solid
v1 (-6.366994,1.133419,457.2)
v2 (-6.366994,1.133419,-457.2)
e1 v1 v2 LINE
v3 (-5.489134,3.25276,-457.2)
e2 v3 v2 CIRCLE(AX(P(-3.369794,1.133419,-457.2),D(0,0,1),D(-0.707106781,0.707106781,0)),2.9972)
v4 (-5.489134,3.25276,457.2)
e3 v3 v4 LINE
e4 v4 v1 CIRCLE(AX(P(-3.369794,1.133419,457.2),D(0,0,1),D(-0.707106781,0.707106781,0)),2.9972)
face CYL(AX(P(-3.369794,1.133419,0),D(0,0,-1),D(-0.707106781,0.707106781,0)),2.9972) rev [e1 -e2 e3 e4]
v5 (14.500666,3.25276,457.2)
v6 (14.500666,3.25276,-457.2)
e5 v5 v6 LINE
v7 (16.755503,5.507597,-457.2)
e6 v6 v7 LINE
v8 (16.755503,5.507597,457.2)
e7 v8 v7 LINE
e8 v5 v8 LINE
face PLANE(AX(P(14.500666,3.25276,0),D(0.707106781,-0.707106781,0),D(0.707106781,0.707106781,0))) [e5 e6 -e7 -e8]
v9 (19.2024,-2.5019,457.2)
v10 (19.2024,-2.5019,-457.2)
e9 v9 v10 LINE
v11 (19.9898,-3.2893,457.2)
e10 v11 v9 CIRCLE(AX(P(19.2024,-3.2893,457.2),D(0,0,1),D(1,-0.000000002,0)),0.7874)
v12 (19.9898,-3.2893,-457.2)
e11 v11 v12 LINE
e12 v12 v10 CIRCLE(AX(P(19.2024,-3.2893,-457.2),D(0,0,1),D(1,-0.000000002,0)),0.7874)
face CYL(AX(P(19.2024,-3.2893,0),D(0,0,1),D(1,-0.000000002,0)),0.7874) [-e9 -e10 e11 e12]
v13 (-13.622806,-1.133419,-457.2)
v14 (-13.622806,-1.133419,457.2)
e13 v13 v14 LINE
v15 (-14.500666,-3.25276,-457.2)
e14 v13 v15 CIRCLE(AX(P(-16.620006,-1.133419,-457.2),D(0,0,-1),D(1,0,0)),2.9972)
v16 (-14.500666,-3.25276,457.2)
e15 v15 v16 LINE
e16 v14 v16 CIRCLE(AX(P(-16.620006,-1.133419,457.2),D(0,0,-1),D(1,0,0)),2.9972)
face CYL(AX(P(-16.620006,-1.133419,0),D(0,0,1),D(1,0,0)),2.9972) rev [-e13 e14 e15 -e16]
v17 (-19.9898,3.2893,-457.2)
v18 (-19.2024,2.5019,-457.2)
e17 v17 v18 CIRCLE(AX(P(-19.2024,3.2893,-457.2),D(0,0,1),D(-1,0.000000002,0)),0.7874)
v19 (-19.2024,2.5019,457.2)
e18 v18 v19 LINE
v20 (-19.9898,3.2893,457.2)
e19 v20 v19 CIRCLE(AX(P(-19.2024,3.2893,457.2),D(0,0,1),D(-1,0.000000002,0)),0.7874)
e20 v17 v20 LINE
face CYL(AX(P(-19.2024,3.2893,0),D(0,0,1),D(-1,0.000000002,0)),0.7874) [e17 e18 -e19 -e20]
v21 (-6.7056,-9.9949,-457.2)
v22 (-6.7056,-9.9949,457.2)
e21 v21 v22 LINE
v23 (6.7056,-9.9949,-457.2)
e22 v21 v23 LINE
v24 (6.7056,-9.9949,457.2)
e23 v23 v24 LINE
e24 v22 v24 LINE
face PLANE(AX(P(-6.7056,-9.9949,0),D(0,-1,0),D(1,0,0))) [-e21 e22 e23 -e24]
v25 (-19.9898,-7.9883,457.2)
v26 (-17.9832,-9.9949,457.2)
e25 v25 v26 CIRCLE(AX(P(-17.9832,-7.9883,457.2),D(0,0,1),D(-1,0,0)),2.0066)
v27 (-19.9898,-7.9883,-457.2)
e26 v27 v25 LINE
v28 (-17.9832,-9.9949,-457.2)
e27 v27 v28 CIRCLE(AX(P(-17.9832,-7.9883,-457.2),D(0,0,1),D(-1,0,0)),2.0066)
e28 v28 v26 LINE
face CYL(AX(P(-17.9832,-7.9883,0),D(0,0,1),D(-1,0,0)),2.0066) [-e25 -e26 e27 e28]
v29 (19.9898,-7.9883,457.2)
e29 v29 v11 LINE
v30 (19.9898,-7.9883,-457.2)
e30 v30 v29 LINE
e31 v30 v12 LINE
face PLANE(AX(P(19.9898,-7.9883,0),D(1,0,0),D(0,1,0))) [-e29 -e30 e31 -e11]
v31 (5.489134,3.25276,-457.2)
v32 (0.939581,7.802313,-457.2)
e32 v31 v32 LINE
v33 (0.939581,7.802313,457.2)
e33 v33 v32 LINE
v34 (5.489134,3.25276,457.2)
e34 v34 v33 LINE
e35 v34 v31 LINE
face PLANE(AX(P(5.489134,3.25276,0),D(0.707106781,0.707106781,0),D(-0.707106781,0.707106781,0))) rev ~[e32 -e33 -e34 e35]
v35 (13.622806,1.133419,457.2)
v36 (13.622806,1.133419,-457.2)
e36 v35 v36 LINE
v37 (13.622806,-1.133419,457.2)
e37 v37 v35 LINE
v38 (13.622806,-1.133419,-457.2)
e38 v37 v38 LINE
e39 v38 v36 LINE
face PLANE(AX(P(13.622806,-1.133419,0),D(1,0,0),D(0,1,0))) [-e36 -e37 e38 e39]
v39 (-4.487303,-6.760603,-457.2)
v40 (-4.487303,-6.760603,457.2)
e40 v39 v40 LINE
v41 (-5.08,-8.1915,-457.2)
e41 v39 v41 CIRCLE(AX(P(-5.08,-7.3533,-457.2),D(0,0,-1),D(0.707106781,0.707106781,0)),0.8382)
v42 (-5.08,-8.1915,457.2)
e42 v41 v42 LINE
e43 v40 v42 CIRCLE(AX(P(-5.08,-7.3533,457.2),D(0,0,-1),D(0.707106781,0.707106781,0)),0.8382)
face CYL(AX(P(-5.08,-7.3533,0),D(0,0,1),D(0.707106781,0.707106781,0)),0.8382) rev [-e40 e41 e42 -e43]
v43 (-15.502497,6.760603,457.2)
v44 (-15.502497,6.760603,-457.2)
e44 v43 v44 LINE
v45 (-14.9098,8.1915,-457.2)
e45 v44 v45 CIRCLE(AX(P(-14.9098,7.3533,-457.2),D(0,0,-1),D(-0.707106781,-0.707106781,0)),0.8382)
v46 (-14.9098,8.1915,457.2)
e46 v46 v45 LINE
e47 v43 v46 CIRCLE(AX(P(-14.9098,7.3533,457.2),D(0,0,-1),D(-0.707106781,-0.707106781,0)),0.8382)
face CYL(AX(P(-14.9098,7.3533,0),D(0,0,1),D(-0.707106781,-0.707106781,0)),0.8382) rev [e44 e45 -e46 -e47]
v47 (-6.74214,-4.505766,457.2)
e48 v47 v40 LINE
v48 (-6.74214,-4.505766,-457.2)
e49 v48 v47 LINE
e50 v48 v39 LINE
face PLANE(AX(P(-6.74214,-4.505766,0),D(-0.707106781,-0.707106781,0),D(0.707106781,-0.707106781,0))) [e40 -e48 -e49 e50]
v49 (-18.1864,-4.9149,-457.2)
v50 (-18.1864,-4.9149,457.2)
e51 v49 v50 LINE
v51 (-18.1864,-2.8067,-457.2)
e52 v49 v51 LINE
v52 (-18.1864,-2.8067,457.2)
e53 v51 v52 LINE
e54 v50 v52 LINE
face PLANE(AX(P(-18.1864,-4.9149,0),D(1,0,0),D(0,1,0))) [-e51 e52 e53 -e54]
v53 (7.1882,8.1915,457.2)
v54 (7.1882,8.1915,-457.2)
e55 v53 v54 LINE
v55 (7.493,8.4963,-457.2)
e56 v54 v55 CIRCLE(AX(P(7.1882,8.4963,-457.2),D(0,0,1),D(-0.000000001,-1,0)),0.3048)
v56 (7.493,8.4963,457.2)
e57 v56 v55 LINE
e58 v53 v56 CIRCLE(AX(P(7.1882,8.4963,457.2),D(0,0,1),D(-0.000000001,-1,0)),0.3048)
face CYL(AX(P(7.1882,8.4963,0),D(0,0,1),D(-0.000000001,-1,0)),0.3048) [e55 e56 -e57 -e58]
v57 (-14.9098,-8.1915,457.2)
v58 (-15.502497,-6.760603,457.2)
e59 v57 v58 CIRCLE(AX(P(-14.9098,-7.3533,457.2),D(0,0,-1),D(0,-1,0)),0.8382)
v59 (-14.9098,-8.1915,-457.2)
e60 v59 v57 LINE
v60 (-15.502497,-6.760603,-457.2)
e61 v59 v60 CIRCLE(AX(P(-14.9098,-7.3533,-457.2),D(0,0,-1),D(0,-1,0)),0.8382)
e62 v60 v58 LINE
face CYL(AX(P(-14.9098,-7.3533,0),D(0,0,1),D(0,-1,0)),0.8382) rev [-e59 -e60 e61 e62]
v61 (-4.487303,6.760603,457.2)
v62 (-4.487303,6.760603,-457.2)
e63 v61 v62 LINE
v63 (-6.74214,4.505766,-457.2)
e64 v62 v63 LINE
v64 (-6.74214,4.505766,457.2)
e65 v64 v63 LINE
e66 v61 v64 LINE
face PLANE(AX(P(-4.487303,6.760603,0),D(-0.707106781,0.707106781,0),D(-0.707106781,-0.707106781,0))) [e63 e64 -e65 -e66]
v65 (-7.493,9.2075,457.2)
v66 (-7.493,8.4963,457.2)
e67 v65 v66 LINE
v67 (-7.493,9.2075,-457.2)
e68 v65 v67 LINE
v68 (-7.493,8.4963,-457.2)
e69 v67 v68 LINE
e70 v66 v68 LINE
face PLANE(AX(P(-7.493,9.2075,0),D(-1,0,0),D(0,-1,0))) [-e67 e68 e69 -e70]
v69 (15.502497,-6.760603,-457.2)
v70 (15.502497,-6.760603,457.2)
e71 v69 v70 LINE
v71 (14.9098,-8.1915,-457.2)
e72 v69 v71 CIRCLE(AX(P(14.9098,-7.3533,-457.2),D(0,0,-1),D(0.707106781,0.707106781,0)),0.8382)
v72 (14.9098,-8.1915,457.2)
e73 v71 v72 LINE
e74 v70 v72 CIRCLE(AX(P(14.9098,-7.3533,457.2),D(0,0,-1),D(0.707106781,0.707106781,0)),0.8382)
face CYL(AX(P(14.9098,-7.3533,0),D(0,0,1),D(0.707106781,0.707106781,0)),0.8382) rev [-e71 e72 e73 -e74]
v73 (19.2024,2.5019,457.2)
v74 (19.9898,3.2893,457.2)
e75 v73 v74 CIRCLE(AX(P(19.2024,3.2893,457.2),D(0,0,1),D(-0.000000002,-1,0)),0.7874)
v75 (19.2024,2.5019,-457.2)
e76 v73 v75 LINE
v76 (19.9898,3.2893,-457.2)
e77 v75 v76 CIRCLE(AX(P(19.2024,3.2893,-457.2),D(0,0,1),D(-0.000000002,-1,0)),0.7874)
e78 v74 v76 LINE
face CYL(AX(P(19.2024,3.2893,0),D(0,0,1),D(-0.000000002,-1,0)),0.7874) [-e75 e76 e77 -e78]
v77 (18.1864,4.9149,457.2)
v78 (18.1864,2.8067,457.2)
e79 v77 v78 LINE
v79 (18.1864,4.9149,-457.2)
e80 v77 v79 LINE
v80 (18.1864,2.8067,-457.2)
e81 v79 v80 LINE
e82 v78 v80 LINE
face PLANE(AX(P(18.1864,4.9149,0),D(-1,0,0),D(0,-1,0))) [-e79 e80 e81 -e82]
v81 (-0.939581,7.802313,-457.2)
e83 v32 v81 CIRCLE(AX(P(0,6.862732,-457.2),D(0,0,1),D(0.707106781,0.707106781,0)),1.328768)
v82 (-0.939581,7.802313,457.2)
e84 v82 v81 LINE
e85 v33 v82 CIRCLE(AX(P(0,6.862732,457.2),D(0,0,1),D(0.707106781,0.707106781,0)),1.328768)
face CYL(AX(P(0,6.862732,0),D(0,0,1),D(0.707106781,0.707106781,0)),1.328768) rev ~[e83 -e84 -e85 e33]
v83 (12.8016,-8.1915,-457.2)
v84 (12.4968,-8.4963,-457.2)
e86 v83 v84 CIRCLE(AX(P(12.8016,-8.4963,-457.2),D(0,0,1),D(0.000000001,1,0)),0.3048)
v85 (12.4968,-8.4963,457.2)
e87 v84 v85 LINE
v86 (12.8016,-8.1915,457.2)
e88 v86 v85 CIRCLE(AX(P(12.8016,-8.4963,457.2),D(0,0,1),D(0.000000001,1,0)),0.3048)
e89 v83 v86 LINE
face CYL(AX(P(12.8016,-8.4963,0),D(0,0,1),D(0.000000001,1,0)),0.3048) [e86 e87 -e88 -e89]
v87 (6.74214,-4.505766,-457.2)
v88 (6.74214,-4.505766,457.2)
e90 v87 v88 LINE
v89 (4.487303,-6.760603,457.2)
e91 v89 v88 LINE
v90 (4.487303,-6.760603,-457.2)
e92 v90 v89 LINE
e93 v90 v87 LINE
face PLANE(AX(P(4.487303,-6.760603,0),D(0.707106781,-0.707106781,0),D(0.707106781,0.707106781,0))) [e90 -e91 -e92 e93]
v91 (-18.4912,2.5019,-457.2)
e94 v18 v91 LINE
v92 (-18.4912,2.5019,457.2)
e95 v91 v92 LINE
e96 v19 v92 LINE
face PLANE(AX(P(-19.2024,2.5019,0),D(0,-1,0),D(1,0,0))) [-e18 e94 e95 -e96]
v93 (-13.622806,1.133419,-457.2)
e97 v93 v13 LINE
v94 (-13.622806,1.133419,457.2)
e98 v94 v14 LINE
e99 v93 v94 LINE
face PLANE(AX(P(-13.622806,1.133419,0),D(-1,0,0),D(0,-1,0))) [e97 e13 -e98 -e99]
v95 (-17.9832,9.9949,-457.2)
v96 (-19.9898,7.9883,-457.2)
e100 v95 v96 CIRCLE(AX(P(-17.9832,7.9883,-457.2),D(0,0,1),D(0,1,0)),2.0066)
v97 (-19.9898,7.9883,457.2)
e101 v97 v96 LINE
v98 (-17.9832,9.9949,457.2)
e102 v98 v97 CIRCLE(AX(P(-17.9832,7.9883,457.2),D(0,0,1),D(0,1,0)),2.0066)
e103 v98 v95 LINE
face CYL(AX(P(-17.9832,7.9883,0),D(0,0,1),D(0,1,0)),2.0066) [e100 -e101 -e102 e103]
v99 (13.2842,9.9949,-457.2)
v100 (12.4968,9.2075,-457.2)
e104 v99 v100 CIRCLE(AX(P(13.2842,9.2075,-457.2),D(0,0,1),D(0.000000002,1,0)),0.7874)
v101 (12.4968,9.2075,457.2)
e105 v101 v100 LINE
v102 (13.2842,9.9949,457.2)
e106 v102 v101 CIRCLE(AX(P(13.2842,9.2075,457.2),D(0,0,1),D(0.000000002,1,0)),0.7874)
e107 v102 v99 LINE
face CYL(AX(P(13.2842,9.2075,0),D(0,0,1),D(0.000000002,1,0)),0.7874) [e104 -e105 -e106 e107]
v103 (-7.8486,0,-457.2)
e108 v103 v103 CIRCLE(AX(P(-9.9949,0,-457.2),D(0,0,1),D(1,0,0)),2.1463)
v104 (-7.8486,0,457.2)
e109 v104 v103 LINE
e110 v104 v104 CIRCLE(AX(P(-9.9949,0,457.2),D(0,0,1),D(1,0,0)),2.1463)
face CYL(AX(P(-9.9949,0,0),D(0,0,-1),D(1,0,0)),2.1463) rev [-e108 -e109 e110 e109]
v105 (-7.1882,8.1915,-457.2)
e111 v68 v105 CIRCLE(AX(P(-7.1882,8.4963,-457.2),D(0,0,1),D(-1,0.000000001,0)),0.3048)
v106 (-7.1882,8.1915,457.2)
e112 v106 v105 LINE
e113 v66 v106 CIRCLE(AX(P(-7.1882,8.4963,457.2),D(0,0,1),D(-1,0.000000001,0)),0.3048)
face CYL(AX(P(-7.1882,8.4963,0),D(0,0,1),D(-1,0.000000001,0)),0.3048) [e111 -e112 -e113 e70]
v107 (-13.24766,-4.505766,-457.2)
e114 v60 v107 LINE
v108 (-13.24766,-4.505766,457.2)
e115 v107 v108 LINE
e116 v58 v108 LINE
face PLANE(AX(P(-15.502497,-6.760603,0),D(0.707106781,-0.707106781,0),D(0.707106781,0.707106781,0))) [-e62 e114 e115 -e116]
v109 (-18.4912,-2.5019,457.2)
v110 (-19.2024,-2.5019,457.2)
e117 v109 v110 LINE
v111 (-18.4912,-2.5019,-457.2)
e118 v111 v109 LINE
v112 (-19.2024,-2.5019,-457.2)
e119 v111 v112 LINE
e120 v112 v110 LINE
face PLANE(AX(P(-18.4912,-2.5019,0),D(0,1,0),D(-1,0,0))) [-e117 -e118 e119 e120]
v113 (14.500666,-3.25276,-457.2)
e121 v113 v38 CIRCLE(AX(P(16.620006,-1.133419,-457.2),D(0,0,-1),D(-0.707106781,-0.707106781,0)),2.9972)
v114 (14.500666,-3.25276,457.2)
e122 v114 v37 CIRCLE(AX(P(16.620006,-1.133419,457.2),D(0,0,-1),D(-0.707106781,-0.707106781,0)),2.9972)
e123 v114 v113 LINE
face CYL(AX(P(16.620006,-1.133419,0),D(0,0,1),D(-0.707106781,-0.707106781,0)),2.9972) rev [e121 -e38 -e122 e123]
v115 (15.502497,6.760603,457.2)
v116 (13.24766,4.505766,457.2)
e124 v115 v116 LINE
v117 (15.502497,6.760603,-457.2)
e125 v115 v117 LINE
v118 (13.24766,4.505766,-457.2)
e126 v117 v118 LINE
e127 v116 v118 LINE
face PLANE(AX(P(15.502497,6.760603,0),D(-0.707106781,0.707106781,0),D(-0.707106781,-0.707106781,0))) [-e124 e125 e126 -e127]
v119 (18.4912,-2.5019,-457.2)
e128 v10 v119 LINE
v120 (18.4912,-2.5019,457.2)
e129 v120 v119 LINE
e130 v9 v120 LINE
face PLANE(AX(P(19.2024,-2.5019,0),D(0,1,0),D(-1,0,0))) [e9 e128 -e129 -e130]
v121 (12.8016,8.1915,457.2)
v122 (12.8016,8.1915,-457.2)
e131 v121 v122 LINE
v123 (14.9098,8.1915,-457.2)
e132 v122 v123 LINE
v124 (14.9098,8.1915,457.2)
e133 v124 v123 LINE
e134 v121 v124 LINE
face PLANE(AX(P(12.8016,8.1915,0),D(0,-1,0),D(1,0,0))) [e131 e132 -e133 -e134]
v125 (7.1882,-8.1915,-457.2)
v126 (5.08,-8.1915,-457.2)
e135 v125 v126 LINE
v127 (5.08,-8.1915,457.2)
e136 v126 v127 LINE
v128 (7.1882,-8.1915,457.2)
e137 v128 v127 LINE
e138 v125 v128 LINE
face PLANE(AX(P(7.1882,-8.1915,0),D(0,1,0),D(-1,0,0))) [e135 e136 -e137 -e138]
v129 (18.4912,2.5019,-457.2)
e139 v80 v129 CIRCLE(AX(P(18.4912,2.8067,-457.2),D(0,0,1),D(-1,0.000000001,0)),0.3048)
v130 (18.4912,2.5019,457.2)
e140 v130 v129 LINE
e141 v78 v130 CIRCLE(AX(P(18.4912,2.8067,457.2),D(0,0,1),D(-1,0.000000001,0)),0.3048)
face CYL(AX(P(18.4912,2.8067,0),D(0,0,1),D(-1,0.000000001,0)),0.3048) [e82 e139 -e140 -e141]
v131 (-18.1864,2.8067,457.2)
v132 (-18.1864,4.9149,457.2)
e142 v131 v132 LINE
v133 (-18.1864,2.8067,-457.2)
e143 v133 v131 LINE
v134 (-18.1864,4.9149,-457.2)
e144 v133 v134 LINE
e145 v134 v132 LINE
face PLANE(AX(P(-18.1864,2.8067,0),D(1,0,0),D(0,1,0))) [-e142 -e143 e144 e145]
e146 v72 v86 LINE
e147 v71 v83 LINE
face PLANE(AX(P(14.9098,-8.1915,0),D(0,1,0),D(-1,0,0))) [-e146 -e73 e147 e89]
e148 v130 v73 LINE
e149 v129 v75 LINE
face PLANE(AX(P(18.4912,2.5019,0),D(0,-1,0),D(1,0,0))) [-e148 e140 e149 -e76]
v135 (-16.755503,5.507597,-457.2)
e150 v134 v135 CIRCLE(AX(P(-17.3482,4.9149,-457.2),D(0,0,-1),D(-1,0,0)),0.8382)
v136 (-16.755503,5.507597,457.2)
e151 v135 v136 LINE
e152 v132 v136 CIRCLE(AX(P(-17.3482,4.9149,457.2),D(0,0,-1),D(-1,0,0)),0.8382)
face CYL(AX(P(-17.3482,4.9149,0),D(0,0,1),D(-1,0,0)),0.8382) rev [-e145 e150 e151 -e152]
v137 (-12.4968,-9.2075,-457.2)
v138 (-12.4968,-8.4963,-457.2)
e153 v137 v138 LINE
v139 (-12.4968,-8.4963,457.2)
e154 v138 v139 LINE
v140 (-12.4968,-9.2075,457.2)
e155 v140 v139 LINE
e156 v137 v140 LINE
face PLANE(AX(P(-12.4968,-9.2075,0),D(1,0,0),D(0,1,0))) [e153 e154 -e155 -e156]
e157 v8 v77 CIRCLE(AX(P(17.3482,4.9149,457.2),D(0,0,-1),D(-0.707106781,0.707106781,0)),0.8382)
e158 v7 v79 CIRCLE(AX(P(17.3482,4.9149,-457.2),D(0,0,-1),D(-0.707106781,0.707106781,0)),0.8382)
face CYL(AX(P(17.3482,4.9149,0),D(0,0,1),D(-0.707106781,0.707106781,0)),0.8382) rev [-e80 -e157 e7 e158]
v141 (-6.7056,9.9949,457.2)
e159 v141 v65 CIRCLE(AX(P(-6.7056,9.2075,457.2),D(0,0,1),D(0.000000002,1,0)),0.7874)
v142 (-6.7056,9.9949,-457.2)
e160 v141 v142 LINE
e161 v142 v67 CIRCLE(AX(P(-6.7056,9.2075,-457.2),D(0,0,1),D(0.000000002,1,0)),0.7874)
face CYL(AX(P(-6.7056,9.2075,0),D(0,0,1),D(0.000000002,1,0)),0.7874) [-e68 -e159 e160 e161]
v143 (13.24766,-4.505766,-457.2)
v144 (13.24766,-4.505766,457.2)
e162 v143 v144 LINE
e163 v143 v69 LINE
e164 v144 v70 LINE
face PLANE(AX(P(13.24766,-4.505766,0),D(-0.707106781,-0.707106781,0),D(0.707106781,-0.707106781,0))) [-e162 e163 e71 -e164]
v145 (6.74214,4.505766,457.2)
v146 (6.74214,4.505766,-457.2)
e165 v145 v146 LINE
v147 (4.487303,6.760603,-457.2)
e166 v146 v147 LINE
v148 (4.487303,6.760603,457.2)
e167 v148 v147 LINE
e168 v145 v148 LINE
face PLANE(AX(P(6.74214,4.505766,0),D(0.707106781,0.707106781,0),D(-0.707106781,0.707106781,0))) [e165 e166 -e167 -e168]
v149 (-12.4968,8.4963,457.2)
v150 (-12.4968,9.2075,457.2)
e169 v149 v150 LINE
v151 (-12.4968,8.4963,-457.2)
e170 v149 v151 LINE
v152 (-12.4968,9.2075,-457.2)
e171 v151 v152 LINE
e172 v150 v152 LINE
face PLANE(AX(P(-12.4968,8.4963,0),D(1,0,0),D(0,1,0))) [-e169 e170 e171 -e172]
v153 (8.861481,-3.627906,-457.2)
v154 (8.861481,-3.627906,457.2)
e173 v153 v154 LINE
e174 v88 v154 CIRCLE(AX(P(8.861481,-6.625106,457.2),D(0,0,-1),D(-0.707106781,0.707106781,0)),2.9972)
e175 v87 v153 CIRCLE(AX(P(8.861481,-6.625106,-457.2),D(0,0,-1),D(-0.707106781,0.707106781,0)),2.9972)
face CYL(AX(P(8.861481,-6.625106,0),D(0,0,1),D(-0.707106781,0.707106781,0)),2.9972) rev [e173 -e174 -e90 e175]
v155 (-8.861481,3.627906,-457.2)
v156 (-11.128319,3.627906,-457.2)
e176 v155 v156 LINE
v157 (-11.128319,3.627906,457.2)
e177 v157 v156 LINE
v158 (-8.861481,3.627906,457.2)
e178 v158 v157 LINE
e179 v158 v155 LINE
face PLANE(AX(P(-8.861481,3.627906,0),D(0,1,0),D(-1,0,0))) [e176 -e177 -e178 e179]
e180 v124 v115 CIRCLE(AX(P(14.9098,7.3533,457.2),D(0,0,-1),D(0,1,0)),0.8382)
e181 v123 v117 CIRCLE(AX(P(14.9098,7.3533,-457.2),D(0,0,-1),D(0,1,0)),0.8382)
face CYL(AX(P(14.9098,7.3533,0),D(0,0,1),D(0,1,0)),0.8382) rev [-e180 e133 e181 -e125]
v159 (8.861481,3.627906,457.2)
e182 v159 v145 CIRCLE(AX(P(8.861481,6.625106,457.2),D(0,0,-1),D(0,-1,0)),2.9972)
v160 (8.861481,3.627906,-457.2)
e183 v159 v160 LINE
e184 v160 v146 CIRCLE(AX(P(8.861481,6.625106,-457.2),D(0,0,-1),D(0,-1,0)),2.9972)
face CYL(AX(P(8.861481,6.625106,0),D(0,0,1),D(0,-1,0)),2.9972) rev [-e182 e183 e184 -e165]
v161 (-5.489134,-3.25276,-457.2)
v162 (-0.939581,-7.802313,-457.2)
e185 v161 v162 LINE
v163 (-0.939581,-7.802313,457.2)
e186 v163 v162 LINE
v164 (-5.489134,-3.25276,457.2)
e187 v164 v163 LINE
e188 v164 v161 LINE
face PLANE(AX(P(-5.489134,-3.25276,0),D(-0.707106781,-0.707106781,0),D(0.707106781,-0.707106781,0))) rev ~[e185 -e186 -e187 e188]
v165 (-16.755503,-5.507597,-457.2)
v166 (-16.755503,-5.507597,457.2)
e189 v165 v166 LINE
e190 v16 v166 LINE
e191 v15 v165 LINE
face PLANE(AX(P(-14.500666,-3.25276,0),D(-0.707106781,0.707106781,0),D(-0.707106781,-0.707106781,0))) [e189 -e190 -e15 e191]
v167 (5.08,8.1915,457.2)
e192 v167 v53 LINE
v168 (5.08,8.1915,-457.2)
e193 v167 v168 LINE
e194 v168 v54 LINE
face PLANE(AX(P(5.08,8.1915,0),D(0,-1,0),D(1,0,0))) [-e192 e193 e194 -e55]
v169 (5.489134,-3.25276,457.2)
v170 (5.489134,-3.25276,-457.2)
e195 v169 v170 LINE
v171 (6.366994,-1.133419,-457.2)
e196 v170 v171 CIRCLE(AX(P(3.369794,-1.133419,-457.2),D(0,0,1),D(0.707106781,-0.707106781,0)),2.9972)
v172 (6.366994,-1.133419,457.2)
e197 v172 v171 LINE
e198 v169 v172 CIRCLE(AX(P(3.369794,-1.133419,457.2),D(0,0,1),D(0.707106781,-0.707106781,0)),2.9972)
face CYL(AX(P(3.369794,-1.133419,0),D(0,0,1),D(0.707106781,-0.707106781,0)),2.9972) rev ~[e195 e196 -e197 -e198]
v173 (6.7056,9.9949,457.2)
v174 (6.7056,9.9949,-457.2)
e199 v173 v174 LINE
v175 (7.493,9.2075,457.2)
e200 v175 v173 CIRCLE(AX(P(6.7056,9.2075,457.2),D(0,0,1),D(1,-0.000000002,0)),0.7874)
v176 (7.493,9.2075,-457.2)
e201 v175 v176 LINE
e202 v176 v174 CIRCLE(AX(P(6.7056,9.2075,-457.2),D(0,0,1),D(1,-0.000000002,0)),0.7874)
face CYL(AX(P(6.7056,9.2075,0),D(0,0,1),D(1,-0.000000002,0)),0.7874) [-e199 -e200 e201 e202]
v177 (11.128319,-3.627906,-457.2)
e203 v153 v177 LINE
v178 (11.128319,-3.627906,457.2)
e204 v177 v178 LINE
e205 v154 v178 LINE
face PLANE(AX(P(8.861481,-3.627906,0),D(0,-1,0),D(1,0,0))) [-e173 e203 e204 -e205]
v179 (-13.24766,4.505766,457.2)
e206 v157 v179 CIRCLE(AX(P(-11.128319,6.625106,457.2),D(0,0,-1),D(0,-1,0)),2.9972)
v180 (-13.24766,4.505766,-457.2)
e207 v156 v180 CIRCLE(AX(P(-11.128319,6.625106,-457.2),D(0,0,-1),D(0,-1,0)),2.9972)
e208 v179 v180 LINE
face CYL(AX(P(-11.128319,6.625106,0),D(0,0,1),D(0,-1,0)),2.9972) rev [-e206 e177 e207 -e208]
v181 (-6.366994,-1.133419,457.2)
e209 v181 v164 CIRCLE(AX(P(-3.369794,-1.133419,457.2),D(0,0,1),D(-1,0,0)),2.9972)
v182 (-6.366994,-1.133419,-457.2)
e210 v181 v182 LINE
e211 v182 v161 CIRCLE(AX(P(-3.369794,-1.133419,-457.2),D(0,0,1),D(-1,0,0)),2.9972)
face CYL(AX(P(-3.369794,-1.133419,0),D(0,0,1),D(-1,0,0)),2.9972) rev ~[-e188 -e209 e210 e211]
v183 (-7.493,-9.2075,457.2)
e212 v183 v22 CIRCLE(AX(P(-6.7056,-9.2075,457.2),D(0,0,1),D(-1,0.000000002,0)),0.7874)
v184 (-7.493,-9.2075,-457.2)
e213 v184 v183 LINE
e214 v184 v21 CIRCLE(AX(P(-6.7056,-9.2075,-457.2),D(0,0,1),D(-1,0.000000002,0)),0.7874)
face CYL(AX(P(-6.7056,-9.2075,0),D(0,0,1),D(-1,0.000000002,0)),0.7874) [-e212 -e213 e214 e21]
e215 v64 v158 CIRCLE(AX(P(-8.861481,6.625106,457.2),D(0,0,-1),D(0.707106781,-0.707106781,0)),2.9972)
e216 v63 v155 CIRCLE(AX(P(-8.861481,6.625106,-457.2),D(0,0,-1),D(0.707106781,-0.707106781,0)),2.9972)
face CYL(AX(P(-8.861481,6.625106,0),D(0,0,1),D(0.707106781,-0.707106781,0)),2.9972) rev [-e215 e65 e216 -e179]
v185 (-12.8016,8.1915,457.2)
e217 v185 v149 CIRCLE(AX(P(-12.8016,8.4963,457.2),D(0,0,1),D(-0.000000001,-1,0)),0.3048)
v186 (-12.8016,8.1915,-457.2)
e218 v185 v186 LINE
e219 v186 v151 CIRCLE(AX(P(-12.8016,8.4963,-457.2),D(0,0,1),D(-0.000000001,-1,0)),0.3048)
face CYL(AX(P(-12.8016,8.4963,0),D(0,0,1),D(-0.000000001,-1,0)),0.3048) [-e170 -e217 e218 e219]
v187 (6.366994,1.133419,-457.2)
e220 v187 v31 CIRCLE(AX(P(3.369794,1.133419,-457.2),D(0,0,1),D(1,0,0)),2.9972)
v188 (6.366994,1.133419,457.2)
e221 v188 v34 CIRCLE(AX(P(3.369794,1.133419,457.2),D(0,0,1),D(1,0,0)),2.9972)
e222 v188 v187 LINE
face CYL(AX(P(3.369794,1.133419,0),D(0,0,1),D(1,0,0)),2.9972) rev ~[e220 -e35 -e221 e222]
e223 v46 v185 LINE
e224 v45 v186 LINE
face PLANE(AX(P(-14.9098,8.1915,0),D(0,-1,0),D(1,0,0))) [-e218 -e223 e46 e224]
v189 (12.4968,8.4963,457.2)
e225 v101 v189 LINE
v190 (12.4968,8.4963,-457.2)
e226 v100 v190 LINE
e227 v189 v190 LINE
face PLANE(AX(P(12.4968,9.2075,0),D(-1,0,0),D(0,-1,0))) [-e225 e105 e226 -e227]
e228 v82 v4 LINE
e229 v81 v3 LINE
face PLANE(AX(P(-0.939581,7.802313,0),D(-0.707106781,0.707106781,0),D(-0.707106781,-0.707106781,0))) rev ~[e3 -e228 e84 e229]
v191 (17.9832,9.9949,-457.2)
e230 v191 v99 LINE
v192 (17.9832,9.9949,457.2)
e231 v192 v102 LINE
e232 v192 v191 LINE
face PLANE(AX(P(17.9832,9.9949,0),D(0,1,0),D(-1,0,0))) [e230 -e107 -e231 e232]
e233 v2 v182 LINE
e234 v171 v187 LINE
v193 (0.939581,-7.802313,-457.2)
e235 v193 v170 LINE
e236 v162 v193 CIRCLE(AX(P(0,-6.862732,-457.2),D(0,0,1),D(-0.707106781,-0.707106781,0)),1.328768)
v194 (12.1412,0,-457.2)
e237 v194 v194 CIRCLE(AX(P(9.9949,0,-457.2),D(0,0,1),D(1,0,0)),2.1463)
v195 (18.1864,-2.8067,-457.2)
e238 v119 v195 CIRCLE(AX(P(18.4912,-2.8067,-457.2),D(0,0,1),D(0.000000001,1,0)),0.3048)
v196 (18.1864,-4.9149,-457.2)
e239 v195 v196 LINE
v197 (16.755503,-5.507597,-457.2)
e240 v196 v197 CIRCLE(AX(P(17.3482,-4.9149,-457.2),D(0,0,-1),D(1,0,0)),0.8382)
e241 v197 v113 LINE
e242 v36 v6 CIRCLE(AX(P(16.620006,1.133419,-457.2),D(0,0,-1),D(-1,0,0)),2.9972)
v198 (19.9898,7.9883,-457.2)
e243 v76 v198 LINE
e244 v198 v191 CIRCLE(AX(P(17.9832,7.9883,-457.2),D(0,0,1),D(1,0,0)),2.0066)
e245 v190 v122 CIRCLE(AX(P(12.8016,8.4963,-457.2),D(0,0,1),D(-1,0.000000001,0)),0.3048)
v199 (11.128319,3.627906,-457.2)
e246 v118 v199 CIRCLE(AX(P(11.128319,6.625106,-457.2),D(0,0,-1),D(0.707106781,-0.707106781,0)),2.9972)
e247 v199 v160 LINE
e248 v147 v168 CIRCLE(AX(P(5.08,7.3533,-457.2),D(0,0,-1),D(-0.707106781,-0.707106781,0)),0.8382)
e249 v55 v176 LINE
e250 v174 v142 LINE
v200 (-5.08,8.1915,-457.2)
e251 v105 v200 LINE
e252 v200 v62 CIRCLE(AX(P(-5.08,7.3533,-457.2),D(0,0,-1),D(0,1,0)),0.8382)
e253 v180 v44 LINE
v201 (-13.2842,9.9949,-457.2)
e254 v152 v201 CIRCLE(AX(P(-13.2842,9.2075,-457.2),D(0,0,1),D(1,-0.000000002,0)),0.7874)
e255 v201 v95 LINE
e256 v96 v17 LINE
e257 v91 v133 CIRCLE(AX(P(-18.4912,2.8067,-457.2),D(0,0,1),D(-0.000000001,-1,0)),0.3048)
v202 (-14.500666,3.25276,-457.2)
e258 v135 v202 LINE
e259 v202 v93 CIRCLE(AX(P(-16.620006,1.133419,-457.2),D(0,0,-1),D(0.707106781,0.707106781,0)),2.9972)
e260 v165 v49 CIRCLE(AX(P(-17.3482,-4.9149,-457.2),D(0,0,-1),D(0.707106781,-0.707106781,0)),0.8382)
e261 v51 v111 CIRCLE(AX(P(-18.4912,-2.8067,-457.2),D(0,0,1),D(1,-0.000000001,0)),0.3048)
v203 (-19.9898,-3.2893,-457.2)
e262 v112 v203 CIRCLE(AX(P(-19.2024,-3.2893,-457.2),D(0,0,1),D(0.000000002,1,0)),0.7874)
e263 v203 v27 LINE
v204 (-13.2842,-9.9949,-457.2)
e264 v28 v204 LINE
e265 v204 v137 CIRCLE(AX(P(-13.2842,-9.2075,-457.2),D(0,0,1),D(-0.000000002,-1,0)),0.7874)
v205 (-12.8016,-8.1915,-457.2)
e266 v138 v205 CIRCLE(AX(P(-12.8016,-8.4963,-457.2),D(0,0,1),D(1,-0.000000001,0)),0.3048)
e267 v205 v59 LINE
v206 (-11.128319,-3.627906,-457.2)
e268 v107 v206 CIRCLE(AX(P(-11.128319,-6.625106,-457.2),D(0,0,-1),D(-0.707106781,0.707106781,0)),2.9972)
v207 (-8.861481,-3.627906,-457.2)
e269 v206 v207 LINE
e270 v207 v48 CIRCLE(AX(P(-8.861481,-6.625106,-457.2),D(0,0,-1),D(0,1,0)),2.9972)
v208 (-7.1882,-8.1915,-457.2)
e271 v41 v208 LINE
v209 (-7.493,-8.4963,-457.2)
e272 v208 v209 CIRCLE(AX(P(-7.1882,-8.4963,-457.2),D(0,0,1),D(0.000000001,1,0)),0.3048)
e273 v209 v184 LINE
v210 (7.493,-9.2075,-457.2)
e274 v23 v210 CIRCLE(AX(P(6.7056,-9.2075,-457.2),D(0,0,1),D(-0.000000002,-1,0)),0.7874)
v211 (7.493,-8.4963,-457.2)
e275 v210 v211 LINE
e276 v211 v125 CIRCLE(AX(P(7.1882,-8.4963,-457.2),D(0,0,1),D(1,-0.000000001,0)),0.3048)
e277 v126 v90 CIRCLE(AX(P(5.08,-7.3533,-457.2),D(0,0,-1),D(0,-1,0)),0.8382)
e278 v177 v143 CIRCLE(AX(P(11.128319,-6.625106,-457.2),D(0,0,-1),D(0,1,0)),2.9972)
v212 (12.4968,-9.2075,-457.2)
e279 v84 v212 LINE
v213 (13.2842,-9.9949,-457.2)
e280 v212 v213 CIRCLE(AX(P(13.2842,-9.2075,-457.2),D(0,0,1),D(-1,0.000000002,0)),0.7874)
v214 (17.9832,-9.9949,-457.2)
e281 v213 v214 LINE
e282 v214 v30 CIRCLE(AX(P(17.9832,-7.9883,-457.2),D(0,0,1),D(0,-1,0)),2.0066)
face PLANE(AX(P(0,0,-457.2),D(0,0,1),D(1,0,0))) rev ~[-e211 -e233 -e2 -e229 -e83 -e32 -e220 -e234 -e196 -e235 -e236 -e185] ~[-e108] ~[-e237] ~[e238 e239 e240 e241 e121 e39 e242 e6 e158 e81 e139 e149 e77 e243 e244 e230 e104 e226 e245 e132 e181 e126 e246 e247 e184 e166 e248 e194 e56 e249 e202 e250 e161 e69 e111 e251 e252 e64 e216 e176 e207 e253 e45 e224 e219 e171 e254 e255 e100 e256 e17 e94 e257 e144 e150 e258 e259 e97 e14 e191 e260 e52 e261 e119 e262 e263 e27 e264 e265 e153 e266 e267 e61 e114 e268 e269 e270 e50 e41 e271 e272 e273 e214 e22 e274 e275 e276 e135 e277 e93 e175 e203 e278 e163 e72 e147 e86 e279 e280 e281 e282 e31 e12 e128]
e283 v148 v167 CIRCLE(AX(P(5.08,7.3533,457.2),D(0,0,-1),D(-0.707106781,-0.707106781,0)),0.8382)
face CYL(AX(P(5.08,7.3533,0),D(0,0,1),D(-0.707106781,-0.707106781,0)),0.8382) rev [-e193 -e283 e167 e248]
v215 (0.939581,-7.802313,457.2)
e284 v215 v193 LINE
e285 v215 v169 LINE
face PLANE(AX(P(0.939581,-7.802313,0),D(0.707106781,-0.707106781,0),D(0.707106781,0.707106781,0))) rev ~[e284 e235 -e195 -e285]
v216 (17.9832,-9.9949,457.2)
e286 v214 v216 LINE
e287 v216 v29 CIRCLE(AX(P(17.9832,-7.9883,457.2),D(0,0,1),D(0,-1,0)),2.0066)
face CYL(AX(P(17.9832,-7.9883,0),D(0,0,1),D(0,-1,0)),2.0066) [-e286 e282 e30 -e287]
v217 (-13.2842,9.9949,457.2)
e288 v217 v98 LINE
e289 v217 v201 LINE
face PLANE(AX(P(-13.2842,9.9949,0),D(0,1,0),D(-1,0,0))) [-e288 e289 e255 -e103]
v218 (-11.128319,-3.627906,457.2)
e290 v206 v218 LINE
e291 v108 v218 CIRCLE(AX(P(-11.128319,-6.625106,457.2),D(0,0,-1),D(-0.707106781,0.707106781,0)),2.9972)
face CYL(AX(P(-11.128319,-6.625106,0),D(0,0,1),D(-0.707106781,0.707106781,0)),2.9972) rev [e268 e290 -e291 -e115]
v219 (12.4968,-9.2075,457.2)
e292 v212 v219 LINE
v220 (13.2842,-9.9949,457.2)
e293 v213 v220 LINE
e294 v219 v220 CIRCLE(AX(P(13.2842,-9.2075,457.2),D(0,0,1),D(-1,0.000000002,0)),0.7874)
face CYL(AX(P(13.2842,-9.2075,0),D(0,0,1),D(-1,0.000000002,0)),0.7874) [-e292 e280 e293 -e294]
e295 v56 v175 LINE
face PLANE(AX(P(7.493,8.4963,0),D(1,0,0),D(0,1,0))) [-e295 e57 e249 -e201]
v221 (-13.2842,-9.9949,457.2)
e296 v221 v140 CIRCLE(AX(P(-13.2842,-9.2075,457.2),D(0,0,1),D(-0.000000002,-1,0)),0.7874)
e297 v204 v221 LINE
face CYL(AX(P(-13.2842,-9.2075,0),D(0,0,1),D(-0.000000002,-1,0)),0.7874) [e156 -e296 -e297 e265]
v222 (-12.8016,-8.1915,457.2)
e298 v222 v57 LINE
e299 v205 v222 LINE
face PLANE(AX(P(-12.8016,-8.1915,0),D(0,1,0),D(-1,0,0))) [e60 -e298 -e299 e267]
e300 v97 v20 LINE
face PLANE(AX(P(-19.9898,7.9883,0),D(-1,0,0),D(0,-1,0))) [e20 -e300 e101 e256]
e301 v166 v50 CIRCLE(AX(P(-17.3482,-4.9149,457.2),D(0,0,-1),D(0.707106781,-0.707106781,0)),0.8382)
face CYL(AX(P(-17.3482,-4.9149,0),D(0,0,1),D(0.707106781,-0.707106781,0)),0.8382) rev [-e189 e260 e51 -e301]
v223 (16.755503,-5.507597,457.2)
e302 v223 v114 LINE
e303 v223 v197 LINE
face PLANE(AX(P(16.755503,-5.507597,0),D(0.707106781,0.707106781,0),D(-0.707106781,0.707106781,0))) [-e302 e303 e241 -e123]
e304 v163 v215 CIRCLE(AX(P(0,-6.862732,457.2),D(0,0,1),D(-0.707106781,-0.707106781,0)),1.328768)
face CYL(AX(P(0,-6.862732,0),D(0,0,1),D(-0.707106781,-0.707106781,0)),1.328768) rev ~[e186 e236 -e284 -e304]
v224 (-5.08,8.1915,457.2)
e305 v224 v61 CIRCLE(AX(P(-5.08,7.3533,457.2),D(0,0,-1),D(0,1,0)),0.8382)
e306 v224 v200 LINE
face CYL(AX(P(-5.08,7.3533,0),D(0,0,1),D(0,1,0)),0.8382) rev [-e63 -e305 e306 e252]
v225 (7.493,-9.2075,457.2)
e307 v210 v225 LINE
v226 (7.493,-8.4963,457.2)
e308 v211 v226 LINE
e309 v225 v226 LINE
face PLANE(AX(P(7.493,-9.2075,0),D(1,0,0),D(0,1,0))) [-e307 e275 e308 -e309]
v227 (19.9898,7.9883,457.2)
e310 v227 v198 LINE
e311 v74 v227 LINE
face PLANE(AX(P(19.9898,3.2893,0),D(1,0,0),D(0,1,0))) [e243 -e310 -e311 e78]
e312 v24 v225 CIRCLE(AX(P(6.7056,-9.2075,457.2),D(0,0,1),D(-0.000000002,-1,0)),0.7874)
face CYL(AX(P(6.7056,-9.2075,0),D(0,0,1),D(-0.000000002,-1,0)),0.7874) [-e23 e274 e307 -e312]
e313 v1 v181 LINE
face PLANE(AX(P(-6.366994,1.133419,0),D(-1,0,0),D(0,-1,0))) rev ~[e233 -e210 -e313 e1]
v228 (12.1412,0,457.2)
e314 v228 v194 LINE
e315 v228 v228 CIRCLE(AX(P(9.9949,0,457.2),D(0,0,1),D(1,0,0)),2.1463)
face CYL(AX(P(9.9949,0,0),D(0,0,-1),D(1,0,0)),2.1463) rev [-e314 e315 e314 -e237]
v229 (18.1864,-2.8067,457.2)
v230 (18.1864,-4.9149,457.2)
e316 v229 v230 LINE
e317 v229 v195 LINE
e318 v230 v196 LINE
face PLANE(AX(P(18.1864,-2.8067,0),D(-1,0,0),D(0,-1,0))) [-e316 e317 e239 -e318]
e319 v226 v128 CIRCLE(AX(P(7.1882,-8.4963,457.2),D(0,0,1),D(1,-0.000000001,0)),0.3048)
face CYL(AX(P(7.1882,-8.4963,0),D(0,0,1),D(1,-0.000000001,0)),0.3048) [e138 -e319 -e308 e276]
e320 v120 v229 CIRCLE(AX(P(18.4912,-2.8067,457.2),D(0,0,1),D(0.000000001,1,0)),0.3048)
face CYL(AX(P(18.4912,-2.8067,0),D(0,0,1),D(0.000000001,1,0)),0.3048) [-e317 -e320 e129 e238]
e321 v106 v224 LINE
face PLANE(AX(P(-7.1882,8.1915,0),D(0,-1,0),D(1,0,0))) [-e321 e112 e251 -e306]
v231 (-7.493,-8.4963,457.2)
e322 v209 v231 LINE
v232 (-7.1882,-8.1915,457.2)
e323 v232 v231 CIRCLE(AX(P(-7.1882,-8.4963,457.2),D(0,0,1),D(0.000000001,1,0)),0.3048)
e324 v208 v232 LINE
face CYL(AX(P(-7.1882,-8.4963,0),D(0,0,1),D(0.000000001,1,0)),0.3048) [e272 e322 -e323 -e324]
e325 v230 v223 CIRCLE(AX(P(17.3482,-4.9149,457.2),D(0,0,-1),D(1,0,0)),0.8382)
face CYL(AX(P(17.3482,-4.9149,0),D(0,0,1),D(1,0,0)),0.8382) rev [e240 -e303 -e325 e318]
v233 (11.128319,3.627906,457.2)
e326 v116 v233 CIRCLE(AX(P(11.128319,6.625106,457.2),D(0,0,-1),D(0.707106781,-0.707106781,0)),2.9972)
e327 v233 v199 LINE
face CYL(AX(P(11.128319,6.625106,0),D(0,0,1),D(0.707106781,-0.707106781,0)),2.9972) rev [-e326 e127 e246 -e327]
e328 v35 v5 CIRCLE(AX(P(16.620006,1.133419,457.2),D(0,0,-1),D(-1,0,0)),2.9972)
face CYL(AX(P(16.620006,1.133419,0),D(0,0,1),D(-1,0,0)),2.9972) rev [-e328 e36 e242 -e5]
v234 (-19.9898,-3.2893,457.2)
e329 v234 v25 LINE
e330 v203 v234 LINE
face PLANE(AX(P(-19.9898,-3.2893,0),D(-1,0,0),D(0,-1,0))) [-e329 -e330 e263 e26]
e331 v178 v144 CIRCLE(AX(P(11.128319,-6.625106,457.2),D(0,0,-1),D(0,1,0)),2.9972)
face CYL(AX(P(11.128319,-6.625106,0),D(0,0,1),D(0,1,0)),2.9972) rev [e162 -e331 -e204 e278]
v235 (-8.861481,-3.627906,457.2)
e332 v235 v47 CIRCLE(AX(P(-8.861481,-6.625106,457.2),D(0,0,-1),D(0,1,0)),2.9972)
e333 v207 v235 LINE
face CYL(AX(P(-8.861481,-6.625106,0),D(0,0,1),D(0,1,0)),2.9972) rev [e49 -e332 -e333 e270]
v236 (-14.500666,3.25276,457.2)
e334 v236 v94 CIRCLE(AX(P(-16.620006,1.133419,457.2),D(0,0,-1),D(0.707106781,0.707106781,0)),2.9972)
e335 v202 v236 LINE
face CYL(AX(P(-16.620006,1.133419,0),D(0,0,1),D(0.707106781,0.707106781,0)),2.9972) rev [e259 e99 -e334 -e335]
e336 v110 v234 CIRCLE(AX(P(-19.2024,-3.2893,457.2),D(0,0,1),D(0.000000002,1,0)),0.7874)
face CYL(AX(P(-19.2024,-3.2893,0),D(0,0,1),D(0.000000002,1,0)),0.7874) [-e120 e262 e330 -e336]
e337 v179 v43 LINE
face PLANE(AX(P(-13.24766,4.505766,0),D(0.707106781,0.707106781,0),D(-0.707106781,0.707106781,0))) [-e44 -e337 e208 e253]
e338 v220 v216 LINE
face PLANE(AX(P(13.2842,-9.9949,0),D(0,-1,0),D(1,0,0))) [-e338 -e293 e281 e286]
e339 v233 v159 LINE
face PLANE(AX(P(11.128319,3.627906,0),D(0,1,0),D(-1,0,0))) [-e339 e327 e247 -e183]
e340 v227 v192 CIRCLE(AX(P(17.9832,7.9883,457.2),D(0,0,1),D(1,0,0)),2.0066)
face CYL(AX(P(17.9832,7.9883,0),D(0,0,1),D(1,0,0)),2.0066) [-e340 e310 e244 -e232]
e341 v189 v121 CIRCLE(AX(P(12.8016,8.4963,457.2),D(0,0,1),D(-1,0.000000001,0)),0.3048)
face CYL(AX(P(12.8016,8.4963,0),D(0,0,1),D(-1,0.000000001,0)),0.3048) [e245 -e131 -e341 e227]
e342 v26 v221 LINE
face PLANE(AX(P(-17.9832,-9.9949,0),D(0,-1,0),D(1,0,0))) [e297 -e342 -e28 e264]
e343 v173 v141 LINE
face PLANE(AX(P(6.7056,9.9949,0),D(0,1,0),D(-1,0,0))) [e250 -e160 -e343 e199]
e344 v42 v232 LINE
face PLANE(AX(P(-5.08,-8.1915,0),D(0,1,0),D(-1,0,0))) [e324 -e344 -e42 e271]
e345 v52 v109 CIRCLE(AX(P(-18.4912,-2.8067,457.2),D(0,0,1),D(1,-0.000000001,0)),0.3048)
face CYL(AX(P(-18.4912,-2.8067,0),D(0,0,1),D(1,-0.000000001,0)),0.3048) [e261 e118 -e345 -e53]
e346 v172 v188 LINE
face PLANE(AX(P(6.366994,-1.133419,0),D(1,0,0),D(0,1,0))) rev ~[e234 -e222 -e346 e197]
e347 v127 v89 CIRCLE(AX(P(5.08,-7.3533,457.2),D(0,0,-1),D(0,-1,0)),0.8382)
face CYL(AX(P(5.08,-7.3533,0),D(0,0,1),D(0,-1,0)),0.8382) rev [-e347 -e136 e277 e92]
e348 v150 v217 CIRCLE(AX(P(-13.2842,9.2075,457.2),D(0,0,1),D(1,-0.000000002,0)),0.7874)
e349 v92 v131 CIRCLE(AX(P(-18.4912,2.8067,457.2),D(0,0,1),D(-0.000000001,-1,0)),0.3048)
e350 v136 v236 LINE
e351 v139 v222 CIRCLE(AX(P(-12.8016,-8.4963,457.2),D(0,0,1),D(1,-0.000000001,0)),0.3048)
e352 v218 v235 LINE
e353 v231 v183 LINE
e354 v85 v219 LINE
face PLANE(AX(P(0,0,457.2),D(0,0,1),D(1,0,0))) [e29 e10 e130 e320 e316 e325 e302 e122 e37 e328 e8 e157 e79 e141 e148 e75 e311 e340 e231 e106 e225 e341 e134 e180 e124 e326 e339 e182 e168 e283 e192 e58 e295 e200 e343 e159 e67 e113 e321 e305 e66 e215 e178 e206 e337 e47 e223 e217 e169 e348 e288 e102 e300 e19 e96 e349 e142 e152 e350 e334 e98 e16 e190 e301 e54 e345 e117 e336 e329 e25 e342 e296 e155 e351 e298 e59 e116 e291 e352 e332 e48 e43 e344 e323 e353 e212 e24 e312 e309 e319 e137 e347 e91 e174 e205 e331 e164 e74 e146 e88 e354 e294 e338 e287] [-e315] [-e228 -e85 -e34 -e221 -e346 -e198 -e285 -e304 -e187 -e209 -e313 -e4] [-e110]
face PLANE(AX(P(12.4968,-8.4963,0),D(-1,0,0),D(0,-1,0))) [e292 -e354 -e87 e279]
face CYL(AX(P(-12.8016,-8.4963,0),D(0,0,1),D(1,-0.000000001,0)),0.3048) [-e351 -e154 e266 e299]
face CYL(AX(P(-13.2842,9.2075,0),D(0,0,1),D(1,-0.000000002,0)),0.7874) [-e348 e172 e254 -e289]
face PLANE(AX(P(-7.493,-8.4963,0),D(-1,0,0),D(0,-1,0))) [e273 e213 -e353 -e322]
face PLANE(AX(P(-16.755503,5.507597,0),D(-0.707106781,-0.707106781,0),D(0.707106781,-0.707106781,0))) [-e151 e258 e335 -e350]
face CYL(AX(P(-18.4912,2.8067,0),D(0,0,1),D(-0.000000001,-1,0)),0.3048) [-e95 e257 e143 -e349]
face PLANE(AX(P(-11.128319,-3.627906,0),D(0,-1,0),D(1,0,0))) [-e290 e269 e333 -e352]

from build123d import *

# Parameters (mm, degrees)
SKETCH1_R           = 2.1463
BOSS_EXTRUDE1_DEPTH = 457.2


with BuildPart() as part:
    # Sketch1 → Boss-Extrude1 (new body, symmetric)
    with BuildSketch(Plane.XY):
        with BuildLine():
            Line((-19.9898, 7.9883), (-19.9898, 3.2893))
            ThreePointArc((-19.9898, 3.2893), (-19.75917588, 2.73252412), (-19.2024, 2.5019))
            Line((-19.2024, 2.5019), (-18.4912, 2.5019))
            ThreePointArc((-18.4912, 2.5019), (-18.275673853, 2.591173853), (-18.1864, 2.8067))
            Line((-18.1864, 2.8067), (-18.1864, 4.9149))
            ThreePointArc((-18.1864, 4.9149), (-17.668965253, 5.689295824), (-16.755503096, 5.507596904))
            Line((-16.755503096, 5.507596904), (-14.500665747, 3.252759555))
            ThreePointArc((-14.500665747, 3.252759555), (-13.850954457, 2.280397894), (-13.622806192, 1.133419111))
            Line((-13.622806192, 1.133419111), (-13.622806192, -1.133419111))
            ThreePointArc((-13.622806192, -1.133419111), (-13.850954457, -2.280397894), (-14.500665747, -3.252759555))
            Line((-14.500665747, -3.252759555), (-16.755503096, -5.507596904))
            ThreePointArc((-16.755503096, -5.507596904), (-17.668965253, -5.689295824), (-18.1864, -4.9149))
            Line((-18.1864, -4.9149), (-18.1864, -2.8067))
            ThreePointArc((-18.1864, -2.8067), (-18.275673853, -2.591173853), (-18.4912, -2.5019))
            Line((-18.4912, -2.5019), (-19.2024, -2.5019))
            ThreePointArc((-19.2024, -2.5019), (-19.75917588, -2.73252412), (-19.9898, -3.2893))
            Line((-19.9898, -3.2893), (-19.9898, -7.9883))
            ThreePointArc((-19.9898, -7.9883), (-19.402080467, -9.407180467), (-17.9832, -9.9949))
            Line((-17.9832, -9.9949), (-13.2842, -9.9949))
            ThreePointArc((-13.2842, -9.9949), (-12.72742412, -9.76427588), (-12.4968, -9.2075))
            Line((-12.4968, -9.2075), (-12.4968, -8.4963))
            ThreePointArc((-12.4968, -8.4963), (-12.586073853, -8.280773853), (-12.8016, -8.1915))
            Line((-12.8016, -8.1915), (-14.9098, -8.1915))
            ThreePointArc((-14.9098, -8.1915), (-15.684195824, -7.674065253), (-15.502496904, -6.760603096))
            Line((-15.502496904, -6.760603096), (-13.247659555, -4.505765747))
            ThreePointArc((-13.247659555, -4.505765747), (-12.275297894, -3.856054457), (-11.128319111, -3.627906192))
            Line((-11.128319111, -3.627906192), (-8.861480889, -3.627906192))
            ThreePointArc((-8.861480889, -3.627906192), (-7.714502106, -3.856054457), (-6.742140445, -4.505765747))
            Line((-6.742140445, -4.505765747), (-4.487303096, -6.760603096))
            ThreePointArc((-4.487303096, -6.760603096), (-4.305604176, -7.674065253), (-5.08, -8.1915))
            Line((-5.08, -8.1915), (-7.1882, -8.1915))
            ThreePointArc((-7.1882, -8.1915), (-7.403726147, -8.280773853), (-7.493, -8.4963))
            Line((-7.493, -8.4963), (-7.493, -9.2075))
            ThreePointArc((-7.493, -9.2075), (-7.26237588, -9.76427588), (-6.7056, -9.9949))
            Line((-6.7056, -9.9949), (0, -9.9949))
            Line((0, -9.9949), (6.7056, -9.9949))
            ThreePointArc((6.7056, -9.9949), (7.26237588, -9.76427588), (7.493, -9.2075))
            Line((7.493, -9.2075), (7.493, -8.4963))
            ThreePointArc((7.493, -8.4963), (7.403726147, -8.280773853), (7.1882, -8.1915))
            Line((7.1882, -8.1915), (5.08, -8.1915))
            ThreePointArc((5.08, -8.1915), (4.305604176, -7.674065253), (4.487303096, -6.760603096))
            Line((4.487303096, -6.760603096), (6.742140445, -4.505765747))
            ThreePointArc((6.742140445, -4.505765747), (7.714502106, -3.856054457), (8.861480889, -3.627906192))
            Line((8.861480889, -3.627906192), (11.128319111, -3.627906192))
            ThreePointArc((11.128319111, -3.627906192), (12.275297894, -3.856054457), (13.247659555, -4.505765747))
            Line((13.247659555, -4.505765747), (15.502496904, -6.760603096))
            ThreePointArc((15.502496904, -6.760603096), (15.684195824, -7.674065253), (14.9098, -8.1915))
            Line((14.9098, -8.1915), (12.8016, -8.1915))
            ThreePointArc((12.8016, -8.1915), (12.586073853, -8.280773853), (12.4968, -8.4963))
            Line((12.4968, -8.4963), (12.4968, -9.2075))
            ThreePointArc((12.4968, -9.2075), (12.72742412, -9.76427588), (13.2842, -9.9949))
            Line((13.2842, -9.9949), (17.9832, -9.9949))
            ThreePointArc((17.9832, -9.9949), (19.402080467, -9.407180467), (19.9898, -7.9883))
            Line((19.9898, -7.9883), (19.9898, -3.2893))
            ThreePointArc((19.9898, -3.2893), (19.75917588, -2.73252412), (19.2024, -2.5019))
            Line((19.2024, -2.5019), (18.4912, -2.5019))
            ThreePointArc((18.4912, -2.5019), (18.275673853, -2.591173853), (18.1864, -2.8067))
            Line((18.1864, -2.8067), (18.1864, -4.9149))
            ThreePointArc((18.1864, -4.9149), (17.668965253, -5.689295824), (16.755503096, -5.507596904))
            Line((16.755503096, -5.507596904), (14.500665747, -3.252759555))
            ThreePointArc((14.500665747, -3.252759555), (13.850954457, -2.280397894), (13.622806192, -1.133419111))
            Line((13.622806192, -1.133419111), (13.622806192, 1.133419111))
            ThreePointArc((13.622806192, 1.133419111), (13.850954457, 2.280397894), (14.500665747, 3.252759555))
            Line((14.500665747, 3.252759555), (16.755503096, 5.507596904))
            ThreePointArc((16.755503096, 5.507596904), (17.668965253, 5.689295824), (18.1864, 4.9149))
            Line((18.1864, 4.9149), (18.1864, 2.8067))
            ThreePointArc((18.1864, 2.8067), (18.275673853, 2.591173853), (18.4912, 2.5019))
            Line((18.4912, 2.5019), (19.2024, 2.5019))
            ThreePointArc((19.2024, 2.5019), (19.75917588, 2.73252412), (19.9898, 3.2893))
            Line((19.9898, 3.2893), (19.9898, 7.9883))
            ThreePointArc((19.9898, 7.9883), (19.402080467, 9.407180467), (17.9832, 9.9949))
            Line((17.9832, 9.9949), (13.2842, 9.9949))
            ThreePointArc((13.2842, 9.9949), (12.72742412, 9.76427588), (12.4968, 9.2075))
            Line((12.4968, 9.2075), (12.4968, 8.4963))
            ThreePointArc((12.4968, 8.4963), (12.586073853, 8.280773853), (12.8016, 8.1915))
            Line((12.8016, 8.1915), (14.9098, 8.1915))
            ThreePointArc((14.9098, 8.1915), (15.684195824, 7.674065253), (15.502496904, 6.760603096))
            Line((15.502496904, 6.760603096), (13.247659555, 4.505765747))
            ThreePointArc((13.247659555, 4.505765747), (12.275297894, 3.856054457), (11.128319111, 3.627906192))
            Line((11.128319111, 3.627906192), (8.861480889, 3.627906192))
            ThreePointArc((8.861480889, 3.627906192), (7.714502106, 3.856054457), (6.742140445, 4.505765747))
            Line((6.742140445, 4.505765747), (4.487303096, 6.760603096))
            ThreePointArc((4.487303096, 6.760603096), (4.305604176, 7.674065253), (5.08, 8.1915))
            Line((5.08, 8.1915), (7.1882, 8.1915))
            ThreePointArc((7.1882, 8.1915), (7.403726147, 8.280773853), (7.493, 8.4963))
            Line((7.493, 8.4963), (7.493, 9.2075))
            ThreePointArc((7.493, 9.2075), (7.26237588, 9.76427588), (6.7056, 9.9949))
            Line((6.7056, 9.9949), (0, 9.9949))
            Line((0, 9.9949), (-6.7056, 9.9949))
            ThreePointArc((-6.7056, 9.9949), (-7.26237588, 9.76427588), (-7.493, 9.2075))
            Line((-7.493, 9.2075), (-7.493, 8.4963))
            ThreePointArc((-7.493, 8.4963), (-7.403726147, 8.280773853), (-7.1882, 8.1915))
            Line((-7.1882, 8.1915), (-5.08, 8.1915))
            ThreePointArc((-5.08, 8.1915), (-4.305604176, 7.674065253), (-4.487303096, 6.760603096))
            Line((-4.487303096, 6.760603096), (-6.742140445, 4.505765747))
            ThreePointArc((-6.742140445, 4.505765747), (-7.714502106, 3.856054457), (-8.861480889, 3.627906192))
            Line((-8.861480889, 3.627906192), (-11.128319111, 3.627906192))
            ThreePointArc((-11.128319111, 3.627906192), (-12.275297894, 3.856054457), (-13.247659555, 4.505765747))
            Line((-13.247659555, 4.505765747), (-15.502496904, 6.760603096))
            ThreePointArc((-15.502496904, 6.760603096), (-15.684195824, 7.674065253), (-14.9098, 8.1915))
            Line((-14.9098, 8.1915), (-12.8016, 8.1915))
            ThreePointArc((-12.8016, 8.1915), (-12.586073853, 8.280773853), (-12.4968, 8.4963))
            Line((-12.4968, 8.4963), (-12.4968, 9.2075))
            ThreePointArc((-12.4968, 9.2075), (-12.72742412, 9.76427588), (-13.2842, 9.9949))
            Line((-13.2842, 9.9949), (-17.9832, 9.9949))
            ThreePointArc((-17.9832, 9.9949), (-19.402080467, 9.407180467), (-19.9898, 7.9883))
        make_face()
        with Locations((-9.9949, 0)):
            Circle(SKETCH1_R, mode=Mode.SUBTRACT)
        with Locations((9.9949, 0)):
            Circle(SKETCH1_R, mode=Mode.SUBTRACT)
        with BuildLine():
            Line((-6.366993808, 1.133419111), (-6.366993808, -1.133419111))
            ThreePointArc((-6.366993808, -1.133419111), (-6.138845543, -2.280397894), (-5.489134253, -3.252759555))
            Line((-5.489134253, -3.252759555), (-0.939581002, -7.802312806))
            ThreePointArc((-0.939581002, -7.802312806), (0, -8.1915), (0.939581002, -7.802312806))
            Line((0.939581002, -7.802312806), (5.489134253, -3.252759555))
            ThreePointArc((5.489134253, -3.252759555), (6.138845543, -2.280397894), (6.366993808, -1.133419111))
            Line((6.366993808, -1.133419111), (6.366993808, 1.133419111))
            ThreePointArc((6.366993808, 1.133419111), (6.138845543, 2.280397894), (5.489134253, 3.252759555))
            Line((5.489134253, 3.252759555), (0.939581002, 7.802312806))
            ThreePointArc((0.939581002, 7.802312806), (0, 8.1915), (-0.939581002, 7.802312806))
            Line((-0.939581002, 7.802312806), (-5.489134253, 3.252759555))
            ThreePointArc((-5.489134253, 3.252759555), (-6.138845543, 2.280397894), (-6.366993808, 1.133419111))
        make_face(mode=Mode.SUBTRACT)
    extrude(amount=BOSS_EXTRUDE1_DEPTH, both=True)


solid = part.part
